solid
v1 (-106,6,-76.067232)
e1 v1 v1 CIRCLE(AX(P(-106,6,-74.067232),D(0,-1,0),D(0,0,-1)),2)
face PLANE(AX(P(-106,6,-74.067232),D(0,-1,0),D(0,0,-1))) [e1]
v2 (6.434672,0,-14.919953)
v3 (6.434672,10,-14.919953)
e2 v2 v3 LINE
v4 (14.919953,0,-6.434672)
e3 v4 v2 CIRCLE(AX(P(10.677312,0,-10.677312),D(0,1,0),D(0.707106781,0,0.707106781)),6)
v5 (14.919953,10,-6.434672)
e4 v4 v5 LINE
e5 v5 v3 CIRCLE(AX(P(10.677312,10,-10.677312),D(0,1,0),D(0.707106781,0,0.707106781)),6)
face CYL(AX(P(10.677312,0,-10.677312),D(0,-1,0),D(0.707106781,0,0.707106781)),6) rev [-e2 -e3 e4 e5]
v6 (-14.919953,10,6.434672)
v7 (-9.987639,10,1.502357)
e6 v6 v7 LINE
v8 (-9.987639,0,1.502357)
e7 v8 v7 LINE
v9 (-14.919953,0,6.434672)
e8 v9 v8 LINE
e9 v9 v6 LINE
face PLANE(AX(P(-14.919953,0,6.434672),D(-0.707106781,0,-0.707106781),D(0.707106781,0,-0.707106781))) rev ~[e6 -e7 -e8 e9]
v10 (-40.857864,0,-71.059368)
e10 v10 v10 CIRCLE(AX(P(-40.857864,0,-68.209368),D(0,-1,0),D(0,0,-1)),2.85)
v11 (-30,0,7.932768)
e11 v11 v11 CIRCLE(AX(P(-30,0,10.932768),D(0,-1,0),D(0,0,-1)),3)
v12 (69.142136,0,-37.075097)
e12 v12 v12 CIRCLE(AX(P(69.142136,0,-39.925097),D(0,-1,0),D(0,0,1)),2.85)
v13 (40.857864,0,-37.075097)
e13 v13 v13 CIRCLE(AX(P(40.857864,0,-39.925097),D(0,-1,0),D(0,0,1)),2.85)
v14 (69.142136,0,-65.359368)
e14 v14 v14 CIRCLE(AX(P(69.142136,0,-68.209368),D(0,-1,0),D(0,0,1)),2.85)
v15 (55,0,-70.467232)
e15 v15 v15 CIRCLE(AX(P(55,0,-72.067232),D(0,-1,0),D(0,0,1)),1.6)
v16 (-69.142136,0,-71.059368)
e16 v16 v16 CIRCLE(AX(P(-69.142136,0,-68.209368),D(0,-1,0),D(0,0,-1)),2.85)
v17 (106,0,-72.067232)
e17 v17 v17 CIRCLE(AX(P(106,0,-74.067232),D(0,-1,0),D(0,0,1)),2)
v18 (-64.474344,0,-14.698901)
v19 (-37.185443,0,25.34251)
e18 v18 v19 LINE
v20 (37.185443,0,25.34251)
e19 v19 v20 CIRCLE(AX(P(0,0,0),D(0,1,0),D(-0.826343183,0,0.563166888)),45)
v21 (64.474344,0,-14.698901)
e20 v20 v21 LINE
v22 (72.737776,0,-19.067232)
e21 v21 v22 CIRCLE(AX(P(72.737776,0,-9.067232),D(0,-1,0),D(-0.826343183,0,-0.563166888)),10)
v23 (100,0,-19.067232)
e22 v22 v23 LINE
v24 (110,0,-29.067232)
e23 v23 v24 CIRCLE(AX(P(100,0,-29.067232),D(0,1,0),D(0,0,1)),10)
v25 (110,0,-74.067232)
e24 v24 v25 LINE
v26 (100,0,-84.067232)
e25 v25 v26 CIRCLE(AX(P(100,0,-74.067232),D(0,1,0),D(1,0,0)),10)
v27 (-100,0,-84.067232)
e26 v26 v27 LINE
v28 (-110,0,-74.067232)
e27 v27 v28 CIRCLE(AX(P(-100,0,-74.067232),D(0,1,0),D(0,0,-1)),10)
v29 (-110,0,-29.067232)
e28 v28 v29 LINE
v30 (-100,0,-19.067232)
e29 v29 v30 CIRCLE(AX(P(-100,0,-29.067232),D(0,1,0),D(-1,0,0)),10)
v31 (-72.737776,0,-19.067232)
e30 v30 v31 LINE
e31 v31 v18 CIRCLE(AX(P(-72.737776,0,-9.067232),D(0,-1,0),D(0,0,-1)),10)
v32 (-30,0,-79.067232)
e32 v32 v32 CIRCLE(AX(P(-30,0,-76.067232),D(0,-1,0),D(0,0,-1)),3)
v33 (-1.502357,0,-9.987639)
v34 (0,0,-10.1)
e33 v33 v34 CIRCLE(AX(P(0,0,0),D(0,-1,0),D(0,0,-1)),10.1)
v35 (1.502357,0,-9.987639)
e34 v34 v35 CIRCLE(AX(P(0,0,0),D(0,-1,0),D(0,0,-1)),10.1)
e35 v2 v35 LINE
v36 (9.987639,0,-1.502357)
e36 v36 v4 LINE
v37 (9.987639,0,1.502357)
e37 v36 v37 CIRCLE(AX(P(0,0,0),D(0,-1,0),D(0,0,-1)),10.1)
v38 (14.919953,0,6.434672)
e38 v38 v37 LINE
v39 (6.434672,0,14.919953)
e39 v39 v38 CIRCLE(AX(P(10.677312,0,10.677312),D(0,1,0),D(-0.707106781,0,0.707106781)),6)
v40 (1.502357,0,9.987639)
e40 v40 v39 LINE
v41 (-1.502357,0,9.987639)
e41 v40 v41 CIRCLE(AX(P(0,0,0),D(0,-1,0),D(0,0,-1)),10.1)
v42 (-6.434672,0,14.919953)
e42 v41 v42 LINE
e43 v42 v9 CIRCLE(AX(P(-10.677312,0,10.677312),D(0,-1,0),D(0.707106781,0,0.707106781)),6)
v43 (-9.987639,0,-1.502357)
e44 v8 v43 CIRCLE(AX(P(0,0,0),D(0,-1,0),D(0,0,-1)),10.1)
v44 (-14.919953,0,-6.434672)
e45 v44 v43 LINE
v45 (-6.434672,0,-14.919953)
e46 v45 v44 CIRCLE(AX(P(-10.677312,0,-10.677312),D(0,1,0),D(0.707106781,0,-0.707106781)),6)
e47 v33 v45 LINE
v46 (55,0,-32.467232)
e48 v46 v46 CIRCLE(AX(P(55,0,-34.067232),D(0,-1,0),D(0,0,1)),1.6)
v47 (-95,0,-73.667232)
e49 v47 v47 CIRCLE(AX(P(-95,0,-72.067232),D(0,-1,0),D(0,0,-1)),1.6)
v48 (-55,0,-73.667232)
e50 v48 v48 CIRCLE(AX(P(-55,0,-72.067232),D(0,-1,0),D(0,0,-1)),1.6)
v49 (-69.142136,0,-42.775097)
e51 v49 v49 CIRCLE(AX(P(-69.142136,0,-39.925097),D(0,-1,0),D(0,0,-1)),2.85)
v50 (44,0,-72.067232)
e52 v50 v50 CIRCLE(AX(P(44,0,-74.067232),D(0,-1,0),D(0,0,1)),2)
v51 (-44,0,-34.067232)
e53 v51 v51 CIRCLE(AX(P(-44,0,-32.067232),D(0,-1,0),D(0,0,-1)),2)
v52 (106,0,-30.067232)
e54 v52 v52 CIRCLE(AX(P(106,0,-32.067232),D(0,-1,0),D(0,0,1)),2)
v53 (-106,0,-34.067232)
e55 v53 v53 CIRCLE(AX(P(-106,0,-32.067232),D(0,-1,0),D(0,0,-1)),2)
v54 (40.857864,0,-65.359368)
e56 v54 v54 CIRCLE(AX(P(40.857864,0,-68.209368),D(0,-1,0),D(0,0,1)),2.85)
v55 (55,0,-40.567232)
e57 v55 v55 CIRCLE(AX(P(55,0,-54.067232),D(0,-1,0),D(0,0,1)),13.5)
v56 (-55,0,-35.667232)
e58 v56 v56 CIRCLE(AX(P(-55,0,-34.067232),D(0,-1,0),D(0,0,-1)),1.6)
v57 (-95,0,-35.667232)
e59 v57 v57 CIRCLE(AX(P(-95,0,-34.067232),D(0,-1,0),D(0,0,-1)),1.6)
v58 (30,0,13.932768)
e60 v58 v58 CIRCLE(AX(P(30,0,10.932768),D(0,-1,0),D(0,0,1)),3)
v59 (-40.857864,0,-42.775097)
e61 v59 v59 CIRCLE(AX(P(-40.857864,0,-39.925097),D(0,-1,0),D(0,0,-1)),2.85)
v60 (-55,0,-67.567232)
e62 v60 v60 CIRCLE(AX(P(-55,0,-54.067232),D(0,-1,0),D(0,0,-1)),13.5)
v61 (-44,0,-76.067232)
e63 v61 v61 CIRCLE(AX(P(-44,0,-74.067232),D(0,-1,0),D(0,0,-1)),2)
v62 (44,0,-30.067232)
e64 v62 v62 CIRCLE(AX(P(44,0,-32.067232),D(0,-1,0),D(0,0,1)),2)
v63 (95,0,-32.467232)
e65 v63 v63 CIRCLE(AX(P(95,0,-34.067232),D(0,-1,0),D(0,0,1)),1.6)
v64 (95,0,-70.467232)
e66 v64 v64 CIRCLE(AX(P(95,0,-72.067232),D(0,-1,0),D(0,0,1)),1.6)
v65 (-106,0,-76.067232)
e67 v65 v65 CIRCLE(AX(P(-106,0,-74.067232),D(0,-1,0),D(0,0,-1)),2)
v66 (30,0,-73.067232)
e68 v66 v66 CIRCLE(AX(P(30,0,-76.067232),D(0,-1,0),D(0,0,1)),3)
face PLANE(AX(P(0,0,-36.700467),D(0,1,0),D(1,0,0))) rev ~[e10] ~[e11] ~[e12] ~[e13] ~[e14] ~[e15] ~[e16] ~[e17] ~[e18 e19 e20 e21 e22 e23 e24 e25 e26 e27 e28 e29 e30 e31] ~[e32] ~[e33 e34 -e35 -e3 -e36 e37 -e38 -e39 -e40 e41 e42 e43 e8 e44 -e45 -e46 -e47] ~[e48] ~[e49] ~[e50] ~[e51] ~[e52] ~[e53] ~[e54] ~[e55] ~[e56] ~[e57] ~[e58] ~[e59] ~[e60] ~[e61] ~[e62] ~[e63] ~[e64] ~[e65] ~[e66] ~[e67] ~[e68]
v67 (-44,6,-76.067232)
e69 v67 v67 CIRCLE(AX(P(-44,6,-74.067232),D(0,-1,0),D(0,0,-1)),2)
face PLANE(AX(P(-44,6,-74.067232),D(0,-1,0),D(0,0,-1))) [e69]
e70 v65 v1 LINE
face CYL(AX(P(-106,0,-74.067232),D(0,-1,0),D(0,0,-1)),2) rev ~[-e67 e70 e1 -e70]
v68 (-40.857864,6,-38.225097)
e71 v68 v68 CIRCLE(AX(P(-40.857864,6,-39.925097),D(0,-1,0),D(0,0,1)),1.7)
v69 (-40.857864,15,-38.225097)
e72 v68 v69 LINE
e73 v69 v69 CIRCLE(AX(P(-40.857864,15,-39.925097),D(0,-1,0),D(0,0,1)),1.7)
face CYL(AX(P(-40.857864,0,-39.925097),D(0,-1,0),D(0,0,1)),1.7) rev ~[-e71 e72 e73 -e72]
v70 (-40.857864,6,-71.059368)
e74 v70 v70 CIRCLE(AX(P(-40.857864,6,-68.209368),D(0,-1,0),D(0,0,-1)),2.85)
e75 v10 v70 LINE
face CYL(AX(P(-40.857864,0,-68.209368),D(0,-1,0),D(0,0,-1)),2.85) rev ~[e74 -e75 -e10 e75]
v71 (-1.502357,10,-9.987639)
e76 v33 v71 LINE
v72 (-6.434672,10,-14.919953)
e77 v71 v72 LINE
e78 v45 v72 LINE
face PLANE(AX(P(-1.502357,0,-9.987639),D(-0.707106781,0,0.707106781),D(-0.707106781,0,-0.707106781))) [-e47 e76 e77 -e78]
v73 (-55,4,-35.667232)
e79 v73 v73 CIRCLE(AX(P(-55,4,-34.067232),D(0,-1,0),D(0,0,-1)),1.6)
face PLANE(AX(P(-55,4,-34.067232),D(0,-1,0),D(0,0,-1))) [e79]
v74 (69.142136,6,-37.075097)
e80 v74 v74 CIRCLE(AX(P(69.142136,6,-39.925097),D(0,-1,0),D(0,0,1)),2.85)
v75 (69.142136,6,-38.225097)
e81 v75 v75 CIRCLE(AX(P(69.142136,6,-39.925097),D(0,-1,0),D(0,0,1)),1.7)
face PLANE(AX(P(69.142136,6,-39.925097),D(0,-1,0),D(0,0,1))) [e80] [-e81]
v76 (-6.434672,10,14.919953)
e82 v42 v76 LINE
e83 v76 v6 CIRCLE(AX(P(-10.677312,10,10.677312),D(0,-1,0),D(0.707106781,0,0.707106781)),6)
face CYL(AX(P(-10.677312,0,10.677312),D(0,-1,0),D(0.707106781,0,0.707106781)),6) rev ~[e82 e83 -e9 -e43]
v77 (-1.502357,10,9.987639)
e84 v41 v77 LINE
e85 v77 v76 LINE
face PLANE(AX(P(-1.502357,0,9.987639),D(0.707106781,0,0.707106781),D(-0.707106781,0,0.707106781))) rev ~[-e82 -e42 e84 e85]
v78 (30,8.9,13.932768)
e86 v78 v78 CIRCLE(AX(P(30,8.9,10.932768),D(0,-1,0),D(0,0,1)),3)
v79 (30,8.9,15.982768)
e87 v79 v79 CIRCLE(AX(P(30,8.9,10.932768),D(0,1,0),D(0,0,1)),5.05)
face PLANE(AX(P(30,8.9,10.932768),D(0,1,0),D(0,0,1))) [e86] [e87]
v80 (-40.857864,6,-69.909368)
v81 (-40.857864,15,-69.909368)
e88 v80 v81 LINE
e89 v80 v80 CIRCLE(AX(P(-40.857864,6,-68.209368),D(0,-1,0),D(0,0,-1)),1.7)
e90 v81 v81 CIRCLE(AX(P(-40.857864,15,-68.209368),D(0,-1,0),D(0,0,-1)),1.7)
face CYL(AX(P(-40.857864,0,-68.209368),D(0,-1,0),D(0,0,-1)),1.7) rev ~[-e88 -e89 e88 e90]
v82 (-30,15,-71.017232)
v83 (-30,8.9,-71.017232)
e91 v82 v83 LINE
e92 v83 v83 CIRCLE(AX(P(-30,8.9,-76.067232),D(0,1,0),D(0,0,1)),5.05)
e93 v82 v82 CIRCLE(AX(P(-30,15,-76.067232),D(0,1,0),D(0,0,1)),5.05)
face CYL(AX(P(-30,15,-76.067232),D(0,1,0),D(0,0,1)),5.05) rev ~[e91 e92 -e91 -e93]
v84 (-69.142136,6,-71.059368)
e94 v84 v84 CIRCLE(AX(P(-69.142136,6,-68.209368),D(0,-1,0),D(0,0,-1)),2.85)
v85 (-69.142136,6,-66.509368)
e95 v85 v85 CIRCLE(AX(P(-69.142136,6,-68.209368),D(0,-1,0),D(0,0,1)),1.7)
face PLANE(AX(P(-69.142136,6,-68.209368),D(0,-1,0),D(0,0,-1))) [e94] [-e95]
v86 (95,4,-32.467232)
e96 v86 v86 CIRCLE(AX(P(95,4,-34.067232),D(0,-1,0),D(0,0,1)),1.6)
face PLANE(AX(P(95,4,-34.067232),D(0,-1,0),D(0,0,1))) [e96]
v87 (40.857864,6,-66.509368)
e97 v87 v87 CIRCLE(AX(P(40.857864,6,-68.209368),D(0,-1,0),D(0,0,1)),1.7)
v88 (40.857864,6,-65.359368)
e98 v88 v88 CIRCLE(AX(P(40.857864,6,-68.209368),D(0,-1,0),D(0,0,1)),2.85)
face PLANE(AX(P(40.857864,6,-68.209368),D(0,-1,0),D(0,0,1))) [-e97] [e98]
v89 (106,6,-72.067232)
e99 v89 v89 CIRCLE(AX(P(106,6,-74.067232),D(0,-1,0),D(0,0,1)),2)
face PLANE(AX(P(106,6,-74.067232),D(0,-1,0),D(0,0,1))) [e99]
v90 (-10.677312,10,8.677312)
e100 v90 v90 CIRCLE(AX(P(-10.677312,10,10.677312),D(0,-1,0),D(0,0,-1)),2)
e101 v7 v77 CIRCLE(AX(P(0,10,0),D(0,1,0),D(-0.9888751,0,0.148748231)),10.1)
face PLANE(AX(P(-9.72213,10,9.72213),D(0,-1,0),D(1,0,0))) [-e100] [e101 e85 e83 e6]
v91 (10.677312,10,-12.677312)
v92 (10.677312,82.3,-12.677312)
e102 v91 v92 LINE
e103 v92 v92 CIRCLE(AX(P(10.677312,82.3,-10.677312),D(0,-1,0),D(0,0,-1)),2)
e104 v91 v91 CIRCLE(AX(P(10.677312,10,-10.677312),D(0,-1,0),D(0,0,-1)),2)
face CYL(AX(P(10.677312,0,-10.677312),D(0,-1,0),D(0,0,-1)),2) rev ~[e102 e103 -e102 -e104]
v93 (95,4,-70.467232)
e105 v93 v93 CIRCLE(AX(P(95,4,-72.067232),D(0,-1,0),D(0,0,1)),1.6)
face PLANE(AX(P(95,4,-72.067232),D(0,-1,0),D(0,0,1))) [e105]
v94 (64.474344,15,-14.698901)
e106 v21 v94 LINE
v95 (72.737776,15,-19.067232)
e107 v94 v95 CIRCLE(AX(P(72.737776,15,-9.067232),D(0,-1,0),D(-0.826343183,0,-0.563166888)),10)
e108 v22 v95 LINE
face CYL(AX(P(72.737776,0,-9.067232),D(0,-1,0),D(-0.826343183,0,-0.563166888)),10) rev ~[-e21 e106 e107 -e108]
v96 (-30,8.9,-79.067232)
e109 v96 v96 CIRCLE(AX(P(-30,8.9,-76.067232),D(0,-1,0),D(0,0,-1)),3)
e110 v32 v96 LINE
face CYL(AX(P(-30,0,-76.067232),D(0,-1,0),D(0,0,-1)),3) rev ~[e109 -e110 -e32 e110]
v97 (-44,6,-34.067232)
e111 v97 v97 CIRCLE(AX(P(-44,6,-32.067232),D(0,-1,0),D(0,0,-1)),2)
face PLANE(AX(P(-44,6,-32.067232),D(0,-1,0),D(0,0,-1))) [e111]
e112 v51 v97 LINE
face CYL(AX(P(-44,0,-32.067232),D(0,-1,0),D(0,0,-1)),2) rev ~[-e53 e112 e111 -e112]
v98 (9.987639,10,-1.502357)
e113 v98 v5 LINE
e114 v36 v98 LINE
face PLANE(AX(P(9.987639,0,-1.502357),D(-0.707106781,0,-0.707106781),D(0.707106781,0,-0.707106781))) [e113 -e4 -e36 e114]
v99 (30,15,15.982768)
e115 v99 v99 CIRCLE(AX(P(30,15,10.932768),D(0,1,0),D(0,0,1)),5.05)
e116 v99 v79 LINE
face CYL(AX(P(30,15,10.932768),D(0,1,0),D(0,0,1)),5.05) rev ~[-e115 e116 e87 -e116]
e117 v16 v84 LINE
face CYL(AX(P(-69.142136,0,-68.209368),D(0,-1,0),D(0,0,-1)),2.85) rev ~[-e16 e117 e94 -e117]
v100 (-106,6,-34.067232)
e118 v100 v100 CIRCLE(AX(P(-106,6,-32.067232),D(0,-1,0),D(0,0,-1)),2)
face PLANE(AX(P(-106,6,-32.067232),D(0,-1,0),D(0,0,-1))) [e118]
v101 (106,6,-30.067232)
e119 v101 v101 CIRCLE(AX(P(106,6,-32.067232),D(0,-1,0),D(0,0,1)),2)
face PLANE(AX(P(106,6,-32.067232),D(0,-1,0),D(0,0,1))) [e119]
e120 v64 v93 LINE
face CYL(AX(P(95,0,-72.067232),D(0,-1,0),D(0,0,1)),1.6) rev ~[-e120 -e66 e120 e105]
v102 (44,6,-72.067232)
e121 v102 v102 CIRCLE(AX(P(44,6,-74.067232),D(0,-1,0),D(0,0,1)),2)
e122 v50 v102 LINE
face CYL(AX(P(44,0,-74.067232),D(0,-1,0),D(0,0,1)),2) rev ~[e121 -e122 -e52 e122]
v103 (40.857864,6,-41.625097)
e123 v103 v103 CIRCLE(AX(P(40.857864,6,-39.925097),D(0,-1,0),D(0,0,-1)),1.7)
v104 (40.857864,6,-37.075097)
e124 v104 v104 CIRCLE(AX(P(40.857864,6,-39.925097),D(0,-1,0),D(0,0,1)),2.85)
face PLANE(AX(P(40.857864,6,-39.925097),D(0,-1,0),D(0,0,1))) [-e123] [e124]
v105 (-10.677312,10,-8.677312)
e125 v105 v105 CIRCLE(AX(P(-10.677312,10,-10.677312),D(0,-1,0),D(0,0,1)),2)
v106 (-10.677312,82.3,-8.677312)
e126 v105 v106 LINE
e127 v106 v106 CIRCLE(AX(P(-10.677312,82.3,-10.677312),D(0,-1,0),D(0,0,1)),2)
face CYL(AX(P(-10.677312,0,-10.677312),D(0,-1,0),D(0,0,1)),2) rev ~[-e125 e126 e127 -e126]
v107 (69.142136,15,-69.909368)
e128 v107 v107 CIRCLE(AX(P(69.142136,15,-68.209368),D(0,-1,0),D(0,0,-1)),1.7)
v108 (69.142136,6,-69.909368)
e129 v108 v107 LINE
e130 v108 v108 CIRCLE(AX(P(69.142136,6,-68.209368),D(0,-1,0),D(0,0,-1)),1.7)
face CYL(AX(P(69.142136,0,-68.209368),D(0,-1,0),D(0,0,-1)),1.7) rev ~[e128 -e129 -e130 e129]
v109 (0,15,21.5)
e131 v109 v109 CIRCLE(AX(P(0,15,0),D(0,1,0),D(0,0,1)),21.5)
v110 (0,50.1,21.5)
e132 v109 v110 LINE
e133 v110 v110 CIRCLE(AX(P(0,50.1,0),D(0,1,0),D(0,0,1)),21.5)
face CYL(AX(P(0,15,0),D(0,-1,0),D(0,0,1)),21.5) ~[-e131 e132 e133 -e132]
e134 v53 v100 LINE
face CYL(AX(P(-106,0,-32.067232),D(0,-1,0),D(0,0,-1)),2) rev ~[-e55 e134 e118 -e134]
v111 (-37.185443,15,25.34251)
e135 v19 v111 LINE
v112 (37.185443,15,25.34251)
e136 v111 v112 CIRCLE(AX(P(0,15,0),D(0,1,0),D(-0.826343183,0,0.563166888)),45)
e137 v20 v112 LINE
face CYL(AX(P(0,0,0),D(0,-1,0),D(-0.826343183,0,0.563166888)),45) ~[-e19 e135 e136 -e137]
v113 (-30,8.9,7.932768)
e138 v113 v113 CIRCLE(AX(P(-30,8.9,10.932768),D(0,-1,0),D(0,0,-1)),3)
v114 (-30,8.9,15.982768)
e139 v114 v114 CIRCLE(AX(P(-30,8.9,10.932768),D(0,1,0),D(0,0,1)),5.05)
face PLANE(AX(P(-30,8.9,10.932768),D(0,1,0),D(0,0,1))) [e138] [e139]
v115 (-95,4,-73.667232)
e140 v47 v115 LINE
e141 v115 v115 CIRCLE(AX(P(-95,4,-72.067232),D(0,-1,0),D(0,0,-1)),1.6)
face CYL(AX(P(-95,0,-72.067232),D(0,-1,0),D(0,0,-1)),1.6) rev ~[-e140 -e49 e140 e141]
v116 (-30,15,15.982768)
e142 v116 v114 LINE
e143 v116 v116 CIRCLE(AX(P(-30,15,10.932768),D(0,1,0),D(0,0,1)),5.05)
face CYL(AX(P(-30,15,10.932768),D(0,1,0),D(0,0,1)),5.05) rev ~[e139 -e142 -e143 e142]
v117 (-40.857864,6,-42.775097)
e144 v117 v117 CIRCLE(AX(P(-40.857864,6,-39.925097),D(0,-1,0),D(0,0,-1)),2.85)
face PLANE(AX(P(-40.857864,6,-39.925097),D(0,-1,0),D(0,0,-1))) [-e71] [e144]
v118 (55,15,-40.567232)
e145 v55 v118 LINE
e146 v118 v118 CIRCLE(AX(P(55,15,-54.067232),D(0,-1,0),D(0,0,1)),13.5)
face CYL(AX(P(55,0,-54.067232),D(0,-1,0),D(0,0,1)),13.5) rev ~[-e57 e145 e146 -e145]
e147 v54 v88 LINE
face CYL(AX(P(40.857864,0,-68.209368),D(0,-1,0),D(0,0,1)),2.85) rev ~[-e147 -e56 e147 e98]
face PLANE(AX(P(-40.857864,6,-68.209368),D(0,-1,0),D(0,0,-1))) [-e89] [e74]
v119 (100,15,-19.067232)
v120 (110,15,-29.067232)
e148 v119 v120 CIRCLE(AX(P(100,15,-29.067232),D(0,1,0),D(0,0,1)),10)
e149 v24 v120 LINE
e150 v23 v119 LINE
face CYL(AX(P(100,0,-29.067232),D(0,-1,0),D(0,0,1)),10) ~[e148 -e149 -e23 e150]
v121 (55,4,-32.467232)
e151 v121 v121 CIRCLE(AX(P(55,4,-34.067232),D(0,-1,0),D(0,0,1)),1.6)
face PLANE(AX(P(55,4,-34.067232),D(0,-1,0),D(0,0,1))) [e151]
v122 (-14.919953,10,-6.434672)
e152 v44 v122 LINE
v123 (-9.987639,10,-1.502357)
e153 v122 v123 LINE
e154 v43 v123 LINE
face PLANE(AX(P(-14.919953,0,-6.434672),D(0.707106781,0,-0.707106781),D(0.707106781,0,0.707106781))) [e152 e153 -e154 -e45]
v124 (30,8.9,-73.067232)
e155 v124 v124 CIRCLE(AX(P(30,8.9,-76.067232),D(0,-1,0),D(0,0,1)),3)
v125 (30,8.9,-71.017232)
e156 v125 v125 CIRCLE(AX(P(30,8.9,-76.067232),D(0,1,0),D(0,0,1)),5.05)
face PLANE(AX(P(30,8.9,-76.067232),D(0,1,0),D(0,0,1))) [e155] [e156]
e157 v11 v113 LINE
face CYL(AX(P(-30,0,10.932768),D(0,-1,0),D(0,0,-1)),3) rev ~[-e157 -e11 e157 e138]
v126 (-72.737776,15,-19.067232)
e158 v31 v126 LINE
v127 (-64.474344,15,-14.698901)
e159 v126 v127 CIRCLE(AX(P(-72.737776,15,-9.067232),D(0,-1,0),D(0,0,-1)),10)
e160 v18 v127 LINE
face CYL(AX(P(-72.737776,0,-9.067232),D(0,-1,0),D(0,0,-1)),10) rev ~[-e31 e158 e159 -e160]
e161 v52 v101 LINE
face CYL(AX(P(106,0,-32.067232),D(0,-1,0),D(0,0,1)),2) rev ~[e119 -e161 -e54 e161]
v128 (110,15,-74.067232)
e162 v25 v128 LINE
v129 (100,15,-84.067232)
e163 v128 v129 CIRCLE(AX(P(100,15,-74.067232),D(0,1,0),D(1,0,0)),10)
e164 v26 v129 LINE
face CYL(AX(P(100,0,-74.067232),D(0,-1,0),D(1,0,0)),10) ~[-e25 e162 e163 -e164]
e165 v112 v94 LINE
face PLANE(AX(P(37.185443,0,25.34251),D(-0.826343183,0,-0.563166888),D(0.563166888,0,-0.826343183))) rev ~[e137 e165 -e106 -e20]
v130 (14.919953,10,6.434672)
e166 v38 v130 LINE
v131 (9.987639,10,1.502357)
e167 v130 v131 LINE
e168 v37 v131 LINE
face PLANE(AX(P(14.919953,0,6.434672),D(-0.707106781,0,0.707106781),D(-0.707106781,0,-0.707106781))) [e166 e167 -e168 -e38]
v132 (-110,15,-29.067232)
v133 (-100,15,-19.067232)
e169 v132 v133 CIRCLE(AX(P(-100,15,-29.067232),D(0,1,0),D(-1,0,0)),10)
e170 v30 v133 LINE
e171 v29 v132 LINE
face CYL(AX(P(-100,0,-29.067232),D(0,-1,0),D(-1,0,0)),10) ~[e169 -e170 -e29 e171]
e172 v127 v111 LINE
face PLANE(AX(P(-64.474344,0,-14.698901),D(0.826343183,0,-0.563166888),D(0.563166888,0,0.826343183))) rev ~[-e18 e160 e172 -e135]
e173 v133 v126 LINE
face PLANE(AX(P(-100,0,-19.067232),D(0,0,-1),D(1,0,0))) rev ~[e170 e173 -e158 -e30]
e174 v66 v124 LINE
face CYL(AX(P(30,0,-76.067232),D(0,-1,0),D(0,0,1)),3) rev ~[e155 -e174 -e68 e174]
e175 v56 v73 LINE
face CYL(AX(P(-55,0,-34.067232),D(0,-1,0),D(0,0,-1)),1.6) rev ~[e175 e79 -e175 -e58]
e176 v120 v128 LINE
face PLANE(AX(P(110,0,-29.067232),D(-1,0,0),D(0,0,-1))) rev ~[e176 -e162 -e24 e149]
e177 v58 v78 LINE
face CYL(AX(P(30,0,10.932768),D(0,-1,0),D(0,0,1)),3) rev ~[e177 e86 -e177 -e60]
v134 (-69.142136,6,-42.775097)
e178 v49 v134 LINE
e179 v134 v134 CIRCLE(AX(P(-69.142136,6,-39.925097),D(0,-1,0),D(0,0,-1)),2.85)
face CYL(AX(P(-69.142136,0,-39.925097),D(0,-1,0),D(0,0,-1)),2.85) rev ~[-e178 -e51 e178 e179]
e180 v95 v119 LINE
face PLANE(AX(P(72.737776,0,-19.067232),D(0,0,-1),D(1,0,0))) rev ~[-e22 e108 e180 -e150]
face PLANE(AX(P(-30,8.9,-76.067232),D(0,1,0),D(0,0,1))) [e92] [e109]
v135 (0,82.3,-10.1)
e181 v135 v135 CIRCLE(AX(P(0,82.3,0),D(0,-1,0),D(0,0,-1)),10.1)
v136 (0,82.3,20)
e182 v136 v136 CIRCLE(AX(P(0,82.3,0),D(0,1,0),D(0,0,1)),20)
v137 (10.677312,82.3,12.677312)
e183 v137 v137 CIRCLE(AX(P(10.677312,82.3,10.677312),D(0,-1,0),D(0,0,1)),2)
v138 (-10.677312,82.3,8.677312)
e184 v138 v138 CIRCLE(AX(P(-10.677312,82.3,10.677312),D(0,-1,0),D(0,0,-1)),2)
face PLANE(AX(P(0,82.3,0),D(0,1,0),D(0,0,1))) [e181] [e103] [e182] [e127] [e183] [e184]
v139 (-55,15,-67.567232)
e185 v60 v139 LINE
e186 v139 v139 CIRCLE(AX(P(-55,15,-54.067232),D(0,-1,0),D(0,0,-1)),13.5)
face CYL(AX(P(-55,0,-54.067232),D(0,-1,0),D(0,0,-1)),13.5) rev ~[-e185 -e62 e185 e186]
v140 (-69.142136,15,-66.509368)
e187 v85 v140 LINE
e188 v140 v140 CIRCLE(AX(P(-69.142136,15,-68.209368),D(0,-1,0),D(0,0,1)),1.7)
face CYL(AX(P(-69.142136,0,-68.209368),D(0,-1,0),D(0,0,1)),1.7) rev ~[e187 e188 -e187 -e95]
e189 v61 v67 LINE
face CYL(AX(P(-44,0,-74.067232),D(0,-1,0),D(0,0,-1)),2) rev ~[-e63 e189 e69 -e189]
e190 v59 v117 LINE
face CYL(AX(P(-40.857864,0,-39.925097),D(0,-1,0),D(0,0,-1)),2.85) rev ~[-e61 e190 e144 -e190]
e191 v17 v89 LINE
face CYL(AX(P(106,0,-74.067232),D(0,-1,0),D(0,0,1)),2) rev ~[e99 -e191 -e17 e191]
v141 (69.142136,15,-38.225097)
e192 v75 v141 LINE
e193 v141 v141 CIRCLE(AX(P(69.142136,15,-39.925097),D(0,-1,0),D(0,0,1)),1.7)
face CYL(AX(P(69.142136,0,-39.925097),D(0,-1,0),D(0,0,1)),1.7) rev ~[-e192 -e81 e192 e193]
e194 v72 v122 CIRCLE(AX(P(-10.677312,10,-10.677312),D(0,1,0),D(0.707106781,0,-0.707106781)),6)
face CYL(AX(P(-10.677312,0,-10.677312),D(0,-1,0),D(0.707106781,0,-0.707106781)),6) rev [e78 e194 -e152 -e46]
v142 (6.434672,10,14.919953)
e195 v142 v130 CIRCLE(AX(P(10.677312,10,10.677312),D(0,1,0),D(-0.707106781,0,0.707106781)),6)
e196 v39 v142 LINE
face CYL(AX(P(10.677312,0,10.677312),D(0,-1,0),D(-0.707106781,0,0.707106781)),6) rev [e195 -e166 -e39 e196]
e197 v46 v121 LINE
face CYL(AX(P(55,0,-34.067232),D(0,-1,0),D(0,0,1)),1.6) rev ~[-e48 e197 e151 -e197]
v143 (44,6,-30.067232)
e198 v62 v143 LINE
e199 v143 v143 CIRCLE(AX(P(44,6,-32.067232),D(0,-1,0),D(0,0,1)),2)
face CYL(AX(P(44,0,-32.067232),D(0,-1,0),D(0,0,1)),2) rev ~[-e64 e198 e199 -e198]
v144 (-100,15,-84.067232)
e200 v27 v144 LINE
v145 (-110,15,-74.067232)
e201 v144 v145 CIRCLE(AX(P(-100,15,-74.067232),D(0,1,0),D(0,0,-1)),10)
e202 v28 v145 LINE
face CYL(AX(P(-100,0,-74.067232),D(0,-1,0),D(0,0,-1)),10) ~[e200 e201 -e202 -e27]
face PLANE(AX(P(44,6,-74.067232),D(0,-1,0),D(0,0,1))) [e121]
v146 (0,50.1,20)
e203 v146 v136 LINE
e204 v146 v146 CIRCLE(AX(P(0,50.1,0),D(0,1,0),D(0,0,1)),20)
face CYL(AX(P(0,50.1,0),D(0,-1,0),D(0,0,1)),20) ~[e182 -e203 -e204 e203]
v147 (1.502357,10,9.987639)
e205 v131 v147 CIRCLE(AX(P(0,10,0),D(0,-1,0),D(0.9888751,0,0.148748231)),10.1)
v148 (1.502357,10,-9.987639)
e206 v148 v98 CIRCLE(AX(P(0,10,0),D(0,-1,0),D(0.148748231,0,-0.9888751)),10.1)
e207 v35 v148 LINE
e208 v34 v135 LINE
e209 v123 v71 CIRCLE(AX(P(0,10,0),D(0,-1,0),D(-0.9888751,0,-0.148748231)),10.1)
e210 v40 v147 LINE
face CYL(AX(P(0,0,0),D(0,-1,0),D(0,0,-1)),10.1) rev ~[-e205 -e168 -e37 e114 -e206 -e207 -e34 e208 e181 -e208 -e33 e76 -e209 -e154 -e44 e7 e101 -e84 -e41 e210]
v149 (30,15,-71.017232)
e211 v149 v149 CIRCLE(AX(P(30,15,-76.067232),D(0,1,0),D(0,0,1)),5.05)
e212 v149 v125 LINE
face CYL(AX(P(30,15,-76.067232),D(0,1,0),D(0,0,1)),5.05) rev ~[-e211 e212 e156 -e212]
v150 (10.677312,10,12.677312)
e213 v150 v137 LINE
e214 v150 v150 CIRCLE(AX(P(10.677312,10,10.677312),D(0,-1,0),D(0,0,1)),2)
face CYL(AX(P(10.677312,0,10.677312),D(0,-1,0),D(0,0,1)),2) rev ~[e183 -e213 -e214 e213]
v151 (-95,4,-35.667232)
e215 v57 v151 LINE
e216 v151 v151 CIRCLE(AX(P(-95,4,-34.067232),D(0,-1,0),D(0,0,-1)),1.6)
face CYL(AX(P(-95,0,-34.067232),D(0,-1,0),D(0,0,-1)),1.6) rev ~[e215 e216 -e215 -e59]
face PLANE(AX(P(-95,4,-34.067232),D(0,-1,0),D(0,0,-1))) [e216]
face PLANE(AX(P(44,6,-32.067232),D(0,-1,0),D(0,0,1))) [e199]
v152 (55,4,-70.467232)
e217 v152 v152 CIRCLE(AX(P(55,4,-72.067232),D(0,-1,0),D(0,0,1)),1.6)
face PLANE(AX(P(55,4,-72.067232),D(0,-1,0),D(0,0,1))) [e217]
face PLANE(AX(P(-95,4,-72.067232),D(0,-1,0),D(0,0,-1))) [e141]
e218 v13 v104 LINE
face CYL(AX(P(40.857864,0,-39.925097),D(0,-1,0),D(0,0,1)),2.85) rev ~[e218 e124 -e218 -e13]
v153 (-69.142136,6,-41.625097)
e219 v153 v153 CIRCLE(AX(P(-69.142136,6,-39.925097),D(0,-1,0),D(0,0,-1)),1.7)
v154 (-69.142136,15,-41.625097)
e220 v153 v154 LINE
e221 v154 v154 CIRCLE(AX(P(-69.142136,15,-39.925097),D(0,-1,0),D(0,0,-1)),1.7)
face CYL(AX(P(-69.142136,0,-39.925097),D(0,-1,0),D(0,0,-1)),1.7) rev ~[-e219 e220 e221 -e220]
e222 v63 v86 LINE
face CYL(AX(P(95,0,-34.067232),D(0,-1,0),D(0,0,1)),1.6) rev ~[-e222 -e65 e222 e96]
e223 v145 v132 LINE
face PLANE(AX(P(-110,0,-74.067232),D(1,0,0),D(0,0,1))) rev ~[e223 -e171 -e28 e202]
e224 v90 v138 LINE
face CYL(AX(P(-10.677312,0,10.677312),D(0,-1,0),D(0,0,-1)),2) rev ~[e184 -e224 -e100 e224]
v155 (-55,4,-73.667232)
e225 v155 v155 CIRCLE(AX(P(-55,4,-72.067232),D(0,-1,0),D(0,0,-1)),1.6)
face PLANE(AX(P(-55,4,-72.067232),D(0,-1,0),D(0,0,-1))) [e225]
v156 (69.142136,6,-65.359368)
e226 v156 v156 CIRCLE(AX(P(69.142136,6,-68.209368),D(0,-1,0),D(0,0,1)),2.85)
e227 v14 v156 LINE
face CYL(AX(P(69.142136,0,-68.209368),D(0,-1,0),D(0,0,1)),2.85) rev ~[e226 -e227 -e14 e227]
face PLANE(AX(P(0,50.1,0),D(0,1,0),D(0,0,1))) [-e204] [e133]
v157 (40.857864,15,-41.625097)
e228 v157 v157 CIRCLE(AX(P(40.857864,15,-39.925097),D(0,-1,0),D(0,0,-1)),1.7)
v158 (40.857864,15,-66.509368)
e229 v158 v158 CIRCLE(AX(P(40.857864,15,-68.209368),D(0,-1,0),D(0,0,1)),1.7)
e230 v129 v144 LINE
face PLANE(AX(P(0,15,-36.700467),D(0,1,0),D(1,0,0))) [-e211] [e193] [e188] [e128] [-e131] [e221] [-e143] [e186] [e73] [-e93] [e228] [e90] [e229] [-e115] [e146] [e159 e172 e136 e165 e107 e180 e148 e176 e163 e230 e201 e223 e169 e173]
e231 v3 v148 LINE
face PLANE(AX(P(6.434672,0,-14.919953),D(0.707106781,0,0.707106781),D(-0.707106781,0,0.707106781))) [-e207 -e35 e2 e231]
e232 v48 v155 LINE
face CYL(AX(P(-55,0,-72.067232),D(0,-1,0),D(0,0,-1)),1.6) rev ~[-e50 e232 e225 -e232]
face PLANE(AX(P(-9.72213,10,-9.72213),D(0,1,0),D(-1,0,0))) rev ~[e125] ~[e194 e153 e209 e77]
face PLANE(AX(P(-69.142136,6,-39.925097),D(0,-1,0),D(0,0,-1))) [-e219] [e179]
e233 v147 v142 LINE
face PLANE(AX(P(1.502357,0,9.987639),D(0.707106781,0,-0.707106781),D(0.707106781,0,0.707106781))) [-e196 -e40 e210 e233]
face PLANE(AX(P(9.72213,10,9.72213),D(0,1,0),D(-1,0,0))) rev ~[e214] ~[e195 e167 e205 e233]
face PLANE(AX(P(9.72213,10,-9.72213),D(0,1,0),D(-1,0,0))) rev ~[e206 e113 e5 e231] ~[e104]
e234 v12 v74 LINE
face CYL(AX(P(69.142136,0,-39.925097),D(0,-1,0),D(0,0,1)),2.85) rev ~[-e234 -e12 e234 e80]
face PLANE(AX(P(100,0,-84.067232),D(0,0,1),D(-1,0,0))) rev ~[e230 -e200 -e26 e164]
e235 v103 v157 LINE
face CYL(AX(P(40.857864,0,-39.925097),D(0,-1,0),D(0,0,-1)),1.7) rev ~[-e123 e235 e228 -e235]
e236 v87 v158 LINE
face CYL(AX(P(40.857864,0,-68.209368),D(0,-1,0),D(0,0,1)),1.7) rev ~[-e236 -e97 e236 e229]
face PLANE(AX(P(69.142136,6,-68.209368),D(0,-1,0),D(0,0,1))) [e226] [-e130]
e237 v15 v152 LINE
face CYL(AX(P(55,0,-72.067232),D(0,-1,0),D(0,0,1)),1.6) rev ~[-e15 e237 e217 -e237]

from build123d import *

# Parameters (mm, degrees)
MAIN_BODY_DEPTH                 = 15
SKETCH3_R                       = 21.5
FRONT_EXTRUSION_DEPTH           = 67.3
SKETCH4_R                       = 10.1
SKETCH4_R_2                     = 13.5
SKETCH4_R_3                     = 2
SKETCH4_R_4                     = 1.7
SKETCH4_R_5                     = 3
BOLT_HOLES_DEPTH                = 162.060825691
BOLT_RECESSES_REAR_DEPTH        = 10
SKETCH6_R                       = 5.05
BOLT_RECESSES_FRONT_DEPTH       = 6.1
CUT_EXTRUDE1_START              = -32.2
SKETCH7_R                       = 21.5
SKETCH7_R_2                     = 20
CUT_EXTRUDE1_DEPTH              = 32.2
SKETCH8_R                       = 2.85
MOTOR_BOLT_HEAD_RECESSES_DEPTH  = 6
SKETCH9_R                       = 2
HEAT_SET_INSERT_HOLES_DEPTH     = 6
SKETCH10_R                      = 1.6
PCB_HEAT_SET_INSERT_HOLES_DEPTH = 4


with BuildPart() as part:
    # Sketch1 → Main Body (new body)
    with BuildSketch(Plane(origin=(0, 0, 0), x_dir=(1, 0, 0), z_dir=(0, 1, 0))):
        with BuildLine():
            Line((55, 84.067232452), (-55, 84.067232452))
            Line((-55, 84.067232452), (-100, 84.067232452))
            ThreePointArc((-100, 84.067232452), (-107.071067812, 81.138300264), (-110, 74.067232452))
            Line((-110, 74.067232452), (-110, 29.067232452))
            ThreePointArc((-110, 29.067232452), (-107.071067812, 21.99616464), (-100, 19.067232452))
            Line((-100, 19.067232452), (-72.737775696, 19.067232452))
            ThreePointArc((-72.737775696, 19.067232452), (-68.06426999, 17.90795326), (-64.474343867, 14.698901335))
            Line((-64.474343867, 14.698901335), (-37.18544323, -25.342509974))
            ThreePointArc((-37.18544323, -25.342509974), (0, -45), (37.18544323, -25.342509974))
            Line((37.18544323, -25.342509974), (64.474343867, 14.698901335))
            ThreePointArc((64.474343867, 14.698901335), (68.06426999, 17.90795326), (72.737775696, 19.067232452))
            Line((72.737775696, 19.067232452), (100, 19.067232452))
            ThreePointArc((100, 19.067232452), (107.071067812, 21.99616464), (110, 29.067232452))
            Line((110, 29.067232452), (110, 74.067232452))
            ThreePointArc((110, 74.067232452), (107.071067812, 81.138300264), (100, 84.067232452))
            Line((100, 84.067232452), (55, 84.067232452))
        make_face()
    extrude(amount=MAIN_BODY_DEPTH)

    # Sketch3 → Front Extrusion (add)
    with BuildSketch(Plane(origin=(0, 15, 0), x_dir=(1, 0, 0), z_dir=(0, 1, 0))):
        with Locations(Location((0, 0, 0), (0, 0, 270))):
            Circle(SKETCH3_R)
    extrude(amount=FRONT_EXTRUSION_DEPTH)

    # Sketch4 → Bolt Holes (cut, through all)
    with BuildSketch(Plane.XZ):
        with Locations(Location((0, 0, 0), (0, 0, 270))):
            Circle(SKETCH4_R)
        with Locations(Location((-55, -54.067232452, 0), (0, 0, 270))):
            Circle(SKETCH4_R_2)
        with Locations(Location((-10.677312396, 10.677312396, 0), (0, 0, 270))):
            Circle(SKETCH4_R_3)
        with Locations(Location((-10.677312396, -10.677312396, 0), (0, 0, 90))):
            Circle(SKETCH4_R_3)
        with Locations(Location((-69.142135624, -39.925096828, 0), (0, 0, 270))):
            Circle(SKETCH4_R_4)
        with Locations(Location((-69.142135624, -68.209368076, 0), (0, 0, 90))):
            Circle(SKETCH4_R_4)
        with Locations(Location((-40.857864376, -68.209368076, 0), (0, 0, 270))):
            Circle(SKETCH4_R_4)
        with Locations(Location((-40.857864376, -39.925096828, 0), (0, 0, 90))):
            Circle(SKETCH4_R_4)
        with Locations(Location((55, -54.067232452, 0), (0, 0, 90))):
            Circle(SKETCH4_R_2)
        with Locations(Location((69.142135624, -68.209368076, 0), (0, 0, 270))):
            Circle(SKETCH4_R_4)
        with Locations(Location((40.857864376, -68.209368076, 0), (0, 0, 90))):
            Circle(SKETCH4_R_4)
        with Locations(Location((40.857864376, -39.925096828, 0), (0, 0, 270))):
            Circle(SKETCH4_R_4)
        with Locations(Location((69.142135624, -39.925096828, 0), (0, 0, 90))):
            Circle(SKETCH4_R_4)
        with Locations(Location((10.677312396, -10.677312396, 0), (0, 0, 270))):
            Circle(SKETCH4_R_3)
        with Locations(Location((10.677312396, 10.677312396, 0), (0, 0, 90))):
            Circle(SKETCH4_R_3)
        with Locations(Location((-30, -76.067232452, 0), (0, 0, 270))):
            Circle(SKETCH4_R_5)
        with Locations(Location((-30, 10.932767548, 0), (0, 0, 270))):
            Circle(SKETCH4_R_5)
        with Locations(Location((30, -76.067232452, 0), (0, 0, 90))):
            Circle(SKETCH4_R_5)
        with Locations(Location((30, 10.932767548, 0), (0, 0, 90))):
            Circle(SKETCH4_R_5)
    extrude(amount=-BOLT_HOLES_DEPTH, mode=Mode.SUBTRACT)

    # Sketch5 → Bolt Recesses Rear (cut)
    with BuildSketch(Plane.XZ):
        with BuildLine():
            Line((-14.919953083, 6.434671709), (-9.987638511, 1.502357137))
            ThreePointArc((-9.987638511, 1.502357137), (-7.14177849, 7.14177849), (-1.502357137, 9.987638511))
            Line((-1.502357137, 9.987638511), (-6.434671709, 14.919953083))
            ThreePointArc((-6.434671709, 14.919953083), (-14.919953083, 14.919953083), (-14.919953083, 6.434671709))
        make_face()
        with BuildLine():
            Line((-14.919953083, -6.434671709), (-9.987638511, -1.502357137))
            ThreePointArc((-9.987638511, -1.502357137), (-7.14177849, -7.14177849), (-1.502357137, -9.987638511))
            Line((-1.502357137, -9.987638511), (-6.434671709, -14.919953083))
            ThreePointArc((-6.434671709, -14.919953083), (-14.919953083, -14.919953083), (-14.919953083, -6.434671709))
        make_face()
        with BuildLine():
            Line((6.434671709, -14.919953083), (1.502357137, -9.987638511))
            ThreePointArc((1.502357137, -9.987638511), (7.14177849, -7.14177849), (9.987638511, -1.502357137))
            Line((9.987638511, -1.502357137), (14.919953083, -6.434671709))
            ThreePointArc((14.919953083, -6.434671709), (14.919953083, -14.919953083), (6.434671709, -14.919953083))
        make_face()
        with BuildLine():
            Line((14.919953083, 6.434671709), (9.987638511, 1.502357137))
            ThreePointArc((9.987638511, 1.502357137), (7.14177849, 7.14177849), (1.502357137, 9.987638511))
            Line((1.502357137, 9.987638511), (6.434671709, 14.919953083))
            ThreePointArc((6.434671709, 14.919953083), (14.919953083, 14.919953083), (14.919953083, 6.434671709))
        make_face()
    extrude(amount=-BOLT_RECESSES_REAR_DEPTH, mode=Mode.SUBTRACT)

    # Sketch6 → Bolt Recesses Front (cut)
    with BuildSketch(Plane(origin=(0, 15, 0), x_dir=(1, 0, 0), z_dir=(0, 1, 0))):
        with Locations(Location((30, 76.067232452, 0), (0, 0, 270))):
            Circle(SKETCH6_R)
        with Locations(Location((-30, 76.067232452, 0), (0, 0, 270))):
            Circle(SKETCH6_R)
        with Locations(Location((-30, -10.932767548, 0), (0, 0, 270))):
            Circle(SKETCH6_R)
        with Locations(Location((30, -10.932767548, 0), (0, 0, 270))):
            Circle(SKETCH6_R)
    extrude(amount=-BOLT_RECESSES_FRONT_DEPTH, mode=Mode.SUBTRACT)

    # Sketch7 → Cut-Extrude1 (cut)
    with BuildSketch(Plane(origin=(0, 82.3, 0), x_dir=(1, 0, 0), z_dir=(0, 1, 0)).offset(CUT_EXTRUDE1_START)):
        with Locations(Location((0, 0, 0), (0, 0, 270))):
            Circle(SKETCH7_R)
        with Locations(Location((0, 0, 0), (0, 0, 270))):
            Circle(SKETCH7_R_2, mode=Mode.SUBTRACT)
    extrude(amount=CUT_EXTRUDE1_DEPTH, mode=Mode.SUBTRACT)

    # Sketch8 → Motor bolt head recesses (cut)
    with BuildSketch(Plane.XZ):
        with Locations(Location((-69.142135624, -39.925096828, 0), (0, 0, 270))):
            Circle(SKETCH8_R)
        with Locations(Location((-40.857864376, -39.925096828, 0), (0, 0, 270))):
            Circle(SKETCH8_R)
        with Locations(Location((-40.857864376, -68.209368076, 0), (0, 0, 270))):
            Circle(SKETCH8_R)
        with Locations(Location((-69.142135624, -68.209368076, 0), (0, 0, 270))):
            Circle(SKETCH8_R)
        with Locations(Location((40.857864376, -68.209368076, 0), (0, 0, 90))):
            Circle(SKETCH8_R)
        with Locations(Location((40.857864376, -39.925096828, 0), (0, 0, 90))):
            Circle(SKETCH8_R)
        with Locations(Location((69.142135624, -68.209368076, 0), (0, 0, 90))):
            Circle(SKETCH8_R)
        with Locations(Location((69.142135624, -39.925096828, 0), (0, 0, 90))):
            Circle(SKETCH8_R)
    extrude(amount=-MOTOR_BOLT_HEAD_RECESSES_DEPTH, mode=Mode.SUBTRACT)

    # Sketch9 → Heat-set insert holes (cut)
    with BuildSketch(Plane.XZ):
        with Locations(Location((-106, -74.067232452, 0), (0, 0, 270))):
            Circle(SKETCH9_R)
        with Locations(Location((-106, -32.067232452, 0), (0, 0, 270))):
            Circle(SKETCH9_R)
        with Locations(Location((-44, -32.067232452, 0), (0, 0, 270))):
            Circle(SKETCH9_R)
        with Locations(Location((-44, -74.067232452, 0), (0, 0, 270))):
            Circle(SKETCH9_R)
        with Locations(Location((44, -74.067232452, 0), (0, 0, 90))):
            Circle(SKETCH9_R)
        with Locations(Location((106, -74.067232452, 0), (0, 0, 90))):
            Circle(SKETCH9_R)
        with Locations(Location((44, -32.067232452, 0), (0, 0, 90))):
            Circle(SKETCH9_R)
        with Locations(Location((106, -32.067232452, 0), (0, 0, 90))):
            Circle(SKETCH9_R)
    extrude(amount=-HEAT_SET_INSERT_HOLES_DEPTH, mode=Mode.SUBTRACT)

    # Sketch10 → PCB Heat-set insert holes (cut)
    with BuildSketch(Plane.XZ):
        with Locations(Location((-95, -72.067232452, 0), (0, 0, 270))):
            Circle(SKETCH10_R)
        with Locations(Location((-95, -34.067232452, 0), (0, 0, 270))):
            Circle(SKETCH10_R)
        with Locations(Location((-55, -34.067232452, 0), (0, 0, 270))):
            Circle(SKETCH10_R)
        with Locations(Location((-55, -72.067232452, 0), (0, 0, 270))):
            Circle(SKETCH10_R)
        with Locations(Location((95, -72.067232452, 0), (0, 0, 90))):
            Circle(SKETCH10_R)
        with Locations(Location((55, -72.067232452, 0), (0, 0, 90))):
            Circle(SKETCH10_R)
        with Locations(Location((55, -34.067232452, 0), (0, 0, 90))):
            Circle(SKETCH10_R)
        with Locations(Location((95, -34.067232452, 0), (0, 0, 90))):
            Circle(SKETCH10_R)
    extrude(amount=-PCB_HEAT_SET_INSERT_HOLES_DEPTH, mode=Mode.SUBTRACT)


solid = part.part
